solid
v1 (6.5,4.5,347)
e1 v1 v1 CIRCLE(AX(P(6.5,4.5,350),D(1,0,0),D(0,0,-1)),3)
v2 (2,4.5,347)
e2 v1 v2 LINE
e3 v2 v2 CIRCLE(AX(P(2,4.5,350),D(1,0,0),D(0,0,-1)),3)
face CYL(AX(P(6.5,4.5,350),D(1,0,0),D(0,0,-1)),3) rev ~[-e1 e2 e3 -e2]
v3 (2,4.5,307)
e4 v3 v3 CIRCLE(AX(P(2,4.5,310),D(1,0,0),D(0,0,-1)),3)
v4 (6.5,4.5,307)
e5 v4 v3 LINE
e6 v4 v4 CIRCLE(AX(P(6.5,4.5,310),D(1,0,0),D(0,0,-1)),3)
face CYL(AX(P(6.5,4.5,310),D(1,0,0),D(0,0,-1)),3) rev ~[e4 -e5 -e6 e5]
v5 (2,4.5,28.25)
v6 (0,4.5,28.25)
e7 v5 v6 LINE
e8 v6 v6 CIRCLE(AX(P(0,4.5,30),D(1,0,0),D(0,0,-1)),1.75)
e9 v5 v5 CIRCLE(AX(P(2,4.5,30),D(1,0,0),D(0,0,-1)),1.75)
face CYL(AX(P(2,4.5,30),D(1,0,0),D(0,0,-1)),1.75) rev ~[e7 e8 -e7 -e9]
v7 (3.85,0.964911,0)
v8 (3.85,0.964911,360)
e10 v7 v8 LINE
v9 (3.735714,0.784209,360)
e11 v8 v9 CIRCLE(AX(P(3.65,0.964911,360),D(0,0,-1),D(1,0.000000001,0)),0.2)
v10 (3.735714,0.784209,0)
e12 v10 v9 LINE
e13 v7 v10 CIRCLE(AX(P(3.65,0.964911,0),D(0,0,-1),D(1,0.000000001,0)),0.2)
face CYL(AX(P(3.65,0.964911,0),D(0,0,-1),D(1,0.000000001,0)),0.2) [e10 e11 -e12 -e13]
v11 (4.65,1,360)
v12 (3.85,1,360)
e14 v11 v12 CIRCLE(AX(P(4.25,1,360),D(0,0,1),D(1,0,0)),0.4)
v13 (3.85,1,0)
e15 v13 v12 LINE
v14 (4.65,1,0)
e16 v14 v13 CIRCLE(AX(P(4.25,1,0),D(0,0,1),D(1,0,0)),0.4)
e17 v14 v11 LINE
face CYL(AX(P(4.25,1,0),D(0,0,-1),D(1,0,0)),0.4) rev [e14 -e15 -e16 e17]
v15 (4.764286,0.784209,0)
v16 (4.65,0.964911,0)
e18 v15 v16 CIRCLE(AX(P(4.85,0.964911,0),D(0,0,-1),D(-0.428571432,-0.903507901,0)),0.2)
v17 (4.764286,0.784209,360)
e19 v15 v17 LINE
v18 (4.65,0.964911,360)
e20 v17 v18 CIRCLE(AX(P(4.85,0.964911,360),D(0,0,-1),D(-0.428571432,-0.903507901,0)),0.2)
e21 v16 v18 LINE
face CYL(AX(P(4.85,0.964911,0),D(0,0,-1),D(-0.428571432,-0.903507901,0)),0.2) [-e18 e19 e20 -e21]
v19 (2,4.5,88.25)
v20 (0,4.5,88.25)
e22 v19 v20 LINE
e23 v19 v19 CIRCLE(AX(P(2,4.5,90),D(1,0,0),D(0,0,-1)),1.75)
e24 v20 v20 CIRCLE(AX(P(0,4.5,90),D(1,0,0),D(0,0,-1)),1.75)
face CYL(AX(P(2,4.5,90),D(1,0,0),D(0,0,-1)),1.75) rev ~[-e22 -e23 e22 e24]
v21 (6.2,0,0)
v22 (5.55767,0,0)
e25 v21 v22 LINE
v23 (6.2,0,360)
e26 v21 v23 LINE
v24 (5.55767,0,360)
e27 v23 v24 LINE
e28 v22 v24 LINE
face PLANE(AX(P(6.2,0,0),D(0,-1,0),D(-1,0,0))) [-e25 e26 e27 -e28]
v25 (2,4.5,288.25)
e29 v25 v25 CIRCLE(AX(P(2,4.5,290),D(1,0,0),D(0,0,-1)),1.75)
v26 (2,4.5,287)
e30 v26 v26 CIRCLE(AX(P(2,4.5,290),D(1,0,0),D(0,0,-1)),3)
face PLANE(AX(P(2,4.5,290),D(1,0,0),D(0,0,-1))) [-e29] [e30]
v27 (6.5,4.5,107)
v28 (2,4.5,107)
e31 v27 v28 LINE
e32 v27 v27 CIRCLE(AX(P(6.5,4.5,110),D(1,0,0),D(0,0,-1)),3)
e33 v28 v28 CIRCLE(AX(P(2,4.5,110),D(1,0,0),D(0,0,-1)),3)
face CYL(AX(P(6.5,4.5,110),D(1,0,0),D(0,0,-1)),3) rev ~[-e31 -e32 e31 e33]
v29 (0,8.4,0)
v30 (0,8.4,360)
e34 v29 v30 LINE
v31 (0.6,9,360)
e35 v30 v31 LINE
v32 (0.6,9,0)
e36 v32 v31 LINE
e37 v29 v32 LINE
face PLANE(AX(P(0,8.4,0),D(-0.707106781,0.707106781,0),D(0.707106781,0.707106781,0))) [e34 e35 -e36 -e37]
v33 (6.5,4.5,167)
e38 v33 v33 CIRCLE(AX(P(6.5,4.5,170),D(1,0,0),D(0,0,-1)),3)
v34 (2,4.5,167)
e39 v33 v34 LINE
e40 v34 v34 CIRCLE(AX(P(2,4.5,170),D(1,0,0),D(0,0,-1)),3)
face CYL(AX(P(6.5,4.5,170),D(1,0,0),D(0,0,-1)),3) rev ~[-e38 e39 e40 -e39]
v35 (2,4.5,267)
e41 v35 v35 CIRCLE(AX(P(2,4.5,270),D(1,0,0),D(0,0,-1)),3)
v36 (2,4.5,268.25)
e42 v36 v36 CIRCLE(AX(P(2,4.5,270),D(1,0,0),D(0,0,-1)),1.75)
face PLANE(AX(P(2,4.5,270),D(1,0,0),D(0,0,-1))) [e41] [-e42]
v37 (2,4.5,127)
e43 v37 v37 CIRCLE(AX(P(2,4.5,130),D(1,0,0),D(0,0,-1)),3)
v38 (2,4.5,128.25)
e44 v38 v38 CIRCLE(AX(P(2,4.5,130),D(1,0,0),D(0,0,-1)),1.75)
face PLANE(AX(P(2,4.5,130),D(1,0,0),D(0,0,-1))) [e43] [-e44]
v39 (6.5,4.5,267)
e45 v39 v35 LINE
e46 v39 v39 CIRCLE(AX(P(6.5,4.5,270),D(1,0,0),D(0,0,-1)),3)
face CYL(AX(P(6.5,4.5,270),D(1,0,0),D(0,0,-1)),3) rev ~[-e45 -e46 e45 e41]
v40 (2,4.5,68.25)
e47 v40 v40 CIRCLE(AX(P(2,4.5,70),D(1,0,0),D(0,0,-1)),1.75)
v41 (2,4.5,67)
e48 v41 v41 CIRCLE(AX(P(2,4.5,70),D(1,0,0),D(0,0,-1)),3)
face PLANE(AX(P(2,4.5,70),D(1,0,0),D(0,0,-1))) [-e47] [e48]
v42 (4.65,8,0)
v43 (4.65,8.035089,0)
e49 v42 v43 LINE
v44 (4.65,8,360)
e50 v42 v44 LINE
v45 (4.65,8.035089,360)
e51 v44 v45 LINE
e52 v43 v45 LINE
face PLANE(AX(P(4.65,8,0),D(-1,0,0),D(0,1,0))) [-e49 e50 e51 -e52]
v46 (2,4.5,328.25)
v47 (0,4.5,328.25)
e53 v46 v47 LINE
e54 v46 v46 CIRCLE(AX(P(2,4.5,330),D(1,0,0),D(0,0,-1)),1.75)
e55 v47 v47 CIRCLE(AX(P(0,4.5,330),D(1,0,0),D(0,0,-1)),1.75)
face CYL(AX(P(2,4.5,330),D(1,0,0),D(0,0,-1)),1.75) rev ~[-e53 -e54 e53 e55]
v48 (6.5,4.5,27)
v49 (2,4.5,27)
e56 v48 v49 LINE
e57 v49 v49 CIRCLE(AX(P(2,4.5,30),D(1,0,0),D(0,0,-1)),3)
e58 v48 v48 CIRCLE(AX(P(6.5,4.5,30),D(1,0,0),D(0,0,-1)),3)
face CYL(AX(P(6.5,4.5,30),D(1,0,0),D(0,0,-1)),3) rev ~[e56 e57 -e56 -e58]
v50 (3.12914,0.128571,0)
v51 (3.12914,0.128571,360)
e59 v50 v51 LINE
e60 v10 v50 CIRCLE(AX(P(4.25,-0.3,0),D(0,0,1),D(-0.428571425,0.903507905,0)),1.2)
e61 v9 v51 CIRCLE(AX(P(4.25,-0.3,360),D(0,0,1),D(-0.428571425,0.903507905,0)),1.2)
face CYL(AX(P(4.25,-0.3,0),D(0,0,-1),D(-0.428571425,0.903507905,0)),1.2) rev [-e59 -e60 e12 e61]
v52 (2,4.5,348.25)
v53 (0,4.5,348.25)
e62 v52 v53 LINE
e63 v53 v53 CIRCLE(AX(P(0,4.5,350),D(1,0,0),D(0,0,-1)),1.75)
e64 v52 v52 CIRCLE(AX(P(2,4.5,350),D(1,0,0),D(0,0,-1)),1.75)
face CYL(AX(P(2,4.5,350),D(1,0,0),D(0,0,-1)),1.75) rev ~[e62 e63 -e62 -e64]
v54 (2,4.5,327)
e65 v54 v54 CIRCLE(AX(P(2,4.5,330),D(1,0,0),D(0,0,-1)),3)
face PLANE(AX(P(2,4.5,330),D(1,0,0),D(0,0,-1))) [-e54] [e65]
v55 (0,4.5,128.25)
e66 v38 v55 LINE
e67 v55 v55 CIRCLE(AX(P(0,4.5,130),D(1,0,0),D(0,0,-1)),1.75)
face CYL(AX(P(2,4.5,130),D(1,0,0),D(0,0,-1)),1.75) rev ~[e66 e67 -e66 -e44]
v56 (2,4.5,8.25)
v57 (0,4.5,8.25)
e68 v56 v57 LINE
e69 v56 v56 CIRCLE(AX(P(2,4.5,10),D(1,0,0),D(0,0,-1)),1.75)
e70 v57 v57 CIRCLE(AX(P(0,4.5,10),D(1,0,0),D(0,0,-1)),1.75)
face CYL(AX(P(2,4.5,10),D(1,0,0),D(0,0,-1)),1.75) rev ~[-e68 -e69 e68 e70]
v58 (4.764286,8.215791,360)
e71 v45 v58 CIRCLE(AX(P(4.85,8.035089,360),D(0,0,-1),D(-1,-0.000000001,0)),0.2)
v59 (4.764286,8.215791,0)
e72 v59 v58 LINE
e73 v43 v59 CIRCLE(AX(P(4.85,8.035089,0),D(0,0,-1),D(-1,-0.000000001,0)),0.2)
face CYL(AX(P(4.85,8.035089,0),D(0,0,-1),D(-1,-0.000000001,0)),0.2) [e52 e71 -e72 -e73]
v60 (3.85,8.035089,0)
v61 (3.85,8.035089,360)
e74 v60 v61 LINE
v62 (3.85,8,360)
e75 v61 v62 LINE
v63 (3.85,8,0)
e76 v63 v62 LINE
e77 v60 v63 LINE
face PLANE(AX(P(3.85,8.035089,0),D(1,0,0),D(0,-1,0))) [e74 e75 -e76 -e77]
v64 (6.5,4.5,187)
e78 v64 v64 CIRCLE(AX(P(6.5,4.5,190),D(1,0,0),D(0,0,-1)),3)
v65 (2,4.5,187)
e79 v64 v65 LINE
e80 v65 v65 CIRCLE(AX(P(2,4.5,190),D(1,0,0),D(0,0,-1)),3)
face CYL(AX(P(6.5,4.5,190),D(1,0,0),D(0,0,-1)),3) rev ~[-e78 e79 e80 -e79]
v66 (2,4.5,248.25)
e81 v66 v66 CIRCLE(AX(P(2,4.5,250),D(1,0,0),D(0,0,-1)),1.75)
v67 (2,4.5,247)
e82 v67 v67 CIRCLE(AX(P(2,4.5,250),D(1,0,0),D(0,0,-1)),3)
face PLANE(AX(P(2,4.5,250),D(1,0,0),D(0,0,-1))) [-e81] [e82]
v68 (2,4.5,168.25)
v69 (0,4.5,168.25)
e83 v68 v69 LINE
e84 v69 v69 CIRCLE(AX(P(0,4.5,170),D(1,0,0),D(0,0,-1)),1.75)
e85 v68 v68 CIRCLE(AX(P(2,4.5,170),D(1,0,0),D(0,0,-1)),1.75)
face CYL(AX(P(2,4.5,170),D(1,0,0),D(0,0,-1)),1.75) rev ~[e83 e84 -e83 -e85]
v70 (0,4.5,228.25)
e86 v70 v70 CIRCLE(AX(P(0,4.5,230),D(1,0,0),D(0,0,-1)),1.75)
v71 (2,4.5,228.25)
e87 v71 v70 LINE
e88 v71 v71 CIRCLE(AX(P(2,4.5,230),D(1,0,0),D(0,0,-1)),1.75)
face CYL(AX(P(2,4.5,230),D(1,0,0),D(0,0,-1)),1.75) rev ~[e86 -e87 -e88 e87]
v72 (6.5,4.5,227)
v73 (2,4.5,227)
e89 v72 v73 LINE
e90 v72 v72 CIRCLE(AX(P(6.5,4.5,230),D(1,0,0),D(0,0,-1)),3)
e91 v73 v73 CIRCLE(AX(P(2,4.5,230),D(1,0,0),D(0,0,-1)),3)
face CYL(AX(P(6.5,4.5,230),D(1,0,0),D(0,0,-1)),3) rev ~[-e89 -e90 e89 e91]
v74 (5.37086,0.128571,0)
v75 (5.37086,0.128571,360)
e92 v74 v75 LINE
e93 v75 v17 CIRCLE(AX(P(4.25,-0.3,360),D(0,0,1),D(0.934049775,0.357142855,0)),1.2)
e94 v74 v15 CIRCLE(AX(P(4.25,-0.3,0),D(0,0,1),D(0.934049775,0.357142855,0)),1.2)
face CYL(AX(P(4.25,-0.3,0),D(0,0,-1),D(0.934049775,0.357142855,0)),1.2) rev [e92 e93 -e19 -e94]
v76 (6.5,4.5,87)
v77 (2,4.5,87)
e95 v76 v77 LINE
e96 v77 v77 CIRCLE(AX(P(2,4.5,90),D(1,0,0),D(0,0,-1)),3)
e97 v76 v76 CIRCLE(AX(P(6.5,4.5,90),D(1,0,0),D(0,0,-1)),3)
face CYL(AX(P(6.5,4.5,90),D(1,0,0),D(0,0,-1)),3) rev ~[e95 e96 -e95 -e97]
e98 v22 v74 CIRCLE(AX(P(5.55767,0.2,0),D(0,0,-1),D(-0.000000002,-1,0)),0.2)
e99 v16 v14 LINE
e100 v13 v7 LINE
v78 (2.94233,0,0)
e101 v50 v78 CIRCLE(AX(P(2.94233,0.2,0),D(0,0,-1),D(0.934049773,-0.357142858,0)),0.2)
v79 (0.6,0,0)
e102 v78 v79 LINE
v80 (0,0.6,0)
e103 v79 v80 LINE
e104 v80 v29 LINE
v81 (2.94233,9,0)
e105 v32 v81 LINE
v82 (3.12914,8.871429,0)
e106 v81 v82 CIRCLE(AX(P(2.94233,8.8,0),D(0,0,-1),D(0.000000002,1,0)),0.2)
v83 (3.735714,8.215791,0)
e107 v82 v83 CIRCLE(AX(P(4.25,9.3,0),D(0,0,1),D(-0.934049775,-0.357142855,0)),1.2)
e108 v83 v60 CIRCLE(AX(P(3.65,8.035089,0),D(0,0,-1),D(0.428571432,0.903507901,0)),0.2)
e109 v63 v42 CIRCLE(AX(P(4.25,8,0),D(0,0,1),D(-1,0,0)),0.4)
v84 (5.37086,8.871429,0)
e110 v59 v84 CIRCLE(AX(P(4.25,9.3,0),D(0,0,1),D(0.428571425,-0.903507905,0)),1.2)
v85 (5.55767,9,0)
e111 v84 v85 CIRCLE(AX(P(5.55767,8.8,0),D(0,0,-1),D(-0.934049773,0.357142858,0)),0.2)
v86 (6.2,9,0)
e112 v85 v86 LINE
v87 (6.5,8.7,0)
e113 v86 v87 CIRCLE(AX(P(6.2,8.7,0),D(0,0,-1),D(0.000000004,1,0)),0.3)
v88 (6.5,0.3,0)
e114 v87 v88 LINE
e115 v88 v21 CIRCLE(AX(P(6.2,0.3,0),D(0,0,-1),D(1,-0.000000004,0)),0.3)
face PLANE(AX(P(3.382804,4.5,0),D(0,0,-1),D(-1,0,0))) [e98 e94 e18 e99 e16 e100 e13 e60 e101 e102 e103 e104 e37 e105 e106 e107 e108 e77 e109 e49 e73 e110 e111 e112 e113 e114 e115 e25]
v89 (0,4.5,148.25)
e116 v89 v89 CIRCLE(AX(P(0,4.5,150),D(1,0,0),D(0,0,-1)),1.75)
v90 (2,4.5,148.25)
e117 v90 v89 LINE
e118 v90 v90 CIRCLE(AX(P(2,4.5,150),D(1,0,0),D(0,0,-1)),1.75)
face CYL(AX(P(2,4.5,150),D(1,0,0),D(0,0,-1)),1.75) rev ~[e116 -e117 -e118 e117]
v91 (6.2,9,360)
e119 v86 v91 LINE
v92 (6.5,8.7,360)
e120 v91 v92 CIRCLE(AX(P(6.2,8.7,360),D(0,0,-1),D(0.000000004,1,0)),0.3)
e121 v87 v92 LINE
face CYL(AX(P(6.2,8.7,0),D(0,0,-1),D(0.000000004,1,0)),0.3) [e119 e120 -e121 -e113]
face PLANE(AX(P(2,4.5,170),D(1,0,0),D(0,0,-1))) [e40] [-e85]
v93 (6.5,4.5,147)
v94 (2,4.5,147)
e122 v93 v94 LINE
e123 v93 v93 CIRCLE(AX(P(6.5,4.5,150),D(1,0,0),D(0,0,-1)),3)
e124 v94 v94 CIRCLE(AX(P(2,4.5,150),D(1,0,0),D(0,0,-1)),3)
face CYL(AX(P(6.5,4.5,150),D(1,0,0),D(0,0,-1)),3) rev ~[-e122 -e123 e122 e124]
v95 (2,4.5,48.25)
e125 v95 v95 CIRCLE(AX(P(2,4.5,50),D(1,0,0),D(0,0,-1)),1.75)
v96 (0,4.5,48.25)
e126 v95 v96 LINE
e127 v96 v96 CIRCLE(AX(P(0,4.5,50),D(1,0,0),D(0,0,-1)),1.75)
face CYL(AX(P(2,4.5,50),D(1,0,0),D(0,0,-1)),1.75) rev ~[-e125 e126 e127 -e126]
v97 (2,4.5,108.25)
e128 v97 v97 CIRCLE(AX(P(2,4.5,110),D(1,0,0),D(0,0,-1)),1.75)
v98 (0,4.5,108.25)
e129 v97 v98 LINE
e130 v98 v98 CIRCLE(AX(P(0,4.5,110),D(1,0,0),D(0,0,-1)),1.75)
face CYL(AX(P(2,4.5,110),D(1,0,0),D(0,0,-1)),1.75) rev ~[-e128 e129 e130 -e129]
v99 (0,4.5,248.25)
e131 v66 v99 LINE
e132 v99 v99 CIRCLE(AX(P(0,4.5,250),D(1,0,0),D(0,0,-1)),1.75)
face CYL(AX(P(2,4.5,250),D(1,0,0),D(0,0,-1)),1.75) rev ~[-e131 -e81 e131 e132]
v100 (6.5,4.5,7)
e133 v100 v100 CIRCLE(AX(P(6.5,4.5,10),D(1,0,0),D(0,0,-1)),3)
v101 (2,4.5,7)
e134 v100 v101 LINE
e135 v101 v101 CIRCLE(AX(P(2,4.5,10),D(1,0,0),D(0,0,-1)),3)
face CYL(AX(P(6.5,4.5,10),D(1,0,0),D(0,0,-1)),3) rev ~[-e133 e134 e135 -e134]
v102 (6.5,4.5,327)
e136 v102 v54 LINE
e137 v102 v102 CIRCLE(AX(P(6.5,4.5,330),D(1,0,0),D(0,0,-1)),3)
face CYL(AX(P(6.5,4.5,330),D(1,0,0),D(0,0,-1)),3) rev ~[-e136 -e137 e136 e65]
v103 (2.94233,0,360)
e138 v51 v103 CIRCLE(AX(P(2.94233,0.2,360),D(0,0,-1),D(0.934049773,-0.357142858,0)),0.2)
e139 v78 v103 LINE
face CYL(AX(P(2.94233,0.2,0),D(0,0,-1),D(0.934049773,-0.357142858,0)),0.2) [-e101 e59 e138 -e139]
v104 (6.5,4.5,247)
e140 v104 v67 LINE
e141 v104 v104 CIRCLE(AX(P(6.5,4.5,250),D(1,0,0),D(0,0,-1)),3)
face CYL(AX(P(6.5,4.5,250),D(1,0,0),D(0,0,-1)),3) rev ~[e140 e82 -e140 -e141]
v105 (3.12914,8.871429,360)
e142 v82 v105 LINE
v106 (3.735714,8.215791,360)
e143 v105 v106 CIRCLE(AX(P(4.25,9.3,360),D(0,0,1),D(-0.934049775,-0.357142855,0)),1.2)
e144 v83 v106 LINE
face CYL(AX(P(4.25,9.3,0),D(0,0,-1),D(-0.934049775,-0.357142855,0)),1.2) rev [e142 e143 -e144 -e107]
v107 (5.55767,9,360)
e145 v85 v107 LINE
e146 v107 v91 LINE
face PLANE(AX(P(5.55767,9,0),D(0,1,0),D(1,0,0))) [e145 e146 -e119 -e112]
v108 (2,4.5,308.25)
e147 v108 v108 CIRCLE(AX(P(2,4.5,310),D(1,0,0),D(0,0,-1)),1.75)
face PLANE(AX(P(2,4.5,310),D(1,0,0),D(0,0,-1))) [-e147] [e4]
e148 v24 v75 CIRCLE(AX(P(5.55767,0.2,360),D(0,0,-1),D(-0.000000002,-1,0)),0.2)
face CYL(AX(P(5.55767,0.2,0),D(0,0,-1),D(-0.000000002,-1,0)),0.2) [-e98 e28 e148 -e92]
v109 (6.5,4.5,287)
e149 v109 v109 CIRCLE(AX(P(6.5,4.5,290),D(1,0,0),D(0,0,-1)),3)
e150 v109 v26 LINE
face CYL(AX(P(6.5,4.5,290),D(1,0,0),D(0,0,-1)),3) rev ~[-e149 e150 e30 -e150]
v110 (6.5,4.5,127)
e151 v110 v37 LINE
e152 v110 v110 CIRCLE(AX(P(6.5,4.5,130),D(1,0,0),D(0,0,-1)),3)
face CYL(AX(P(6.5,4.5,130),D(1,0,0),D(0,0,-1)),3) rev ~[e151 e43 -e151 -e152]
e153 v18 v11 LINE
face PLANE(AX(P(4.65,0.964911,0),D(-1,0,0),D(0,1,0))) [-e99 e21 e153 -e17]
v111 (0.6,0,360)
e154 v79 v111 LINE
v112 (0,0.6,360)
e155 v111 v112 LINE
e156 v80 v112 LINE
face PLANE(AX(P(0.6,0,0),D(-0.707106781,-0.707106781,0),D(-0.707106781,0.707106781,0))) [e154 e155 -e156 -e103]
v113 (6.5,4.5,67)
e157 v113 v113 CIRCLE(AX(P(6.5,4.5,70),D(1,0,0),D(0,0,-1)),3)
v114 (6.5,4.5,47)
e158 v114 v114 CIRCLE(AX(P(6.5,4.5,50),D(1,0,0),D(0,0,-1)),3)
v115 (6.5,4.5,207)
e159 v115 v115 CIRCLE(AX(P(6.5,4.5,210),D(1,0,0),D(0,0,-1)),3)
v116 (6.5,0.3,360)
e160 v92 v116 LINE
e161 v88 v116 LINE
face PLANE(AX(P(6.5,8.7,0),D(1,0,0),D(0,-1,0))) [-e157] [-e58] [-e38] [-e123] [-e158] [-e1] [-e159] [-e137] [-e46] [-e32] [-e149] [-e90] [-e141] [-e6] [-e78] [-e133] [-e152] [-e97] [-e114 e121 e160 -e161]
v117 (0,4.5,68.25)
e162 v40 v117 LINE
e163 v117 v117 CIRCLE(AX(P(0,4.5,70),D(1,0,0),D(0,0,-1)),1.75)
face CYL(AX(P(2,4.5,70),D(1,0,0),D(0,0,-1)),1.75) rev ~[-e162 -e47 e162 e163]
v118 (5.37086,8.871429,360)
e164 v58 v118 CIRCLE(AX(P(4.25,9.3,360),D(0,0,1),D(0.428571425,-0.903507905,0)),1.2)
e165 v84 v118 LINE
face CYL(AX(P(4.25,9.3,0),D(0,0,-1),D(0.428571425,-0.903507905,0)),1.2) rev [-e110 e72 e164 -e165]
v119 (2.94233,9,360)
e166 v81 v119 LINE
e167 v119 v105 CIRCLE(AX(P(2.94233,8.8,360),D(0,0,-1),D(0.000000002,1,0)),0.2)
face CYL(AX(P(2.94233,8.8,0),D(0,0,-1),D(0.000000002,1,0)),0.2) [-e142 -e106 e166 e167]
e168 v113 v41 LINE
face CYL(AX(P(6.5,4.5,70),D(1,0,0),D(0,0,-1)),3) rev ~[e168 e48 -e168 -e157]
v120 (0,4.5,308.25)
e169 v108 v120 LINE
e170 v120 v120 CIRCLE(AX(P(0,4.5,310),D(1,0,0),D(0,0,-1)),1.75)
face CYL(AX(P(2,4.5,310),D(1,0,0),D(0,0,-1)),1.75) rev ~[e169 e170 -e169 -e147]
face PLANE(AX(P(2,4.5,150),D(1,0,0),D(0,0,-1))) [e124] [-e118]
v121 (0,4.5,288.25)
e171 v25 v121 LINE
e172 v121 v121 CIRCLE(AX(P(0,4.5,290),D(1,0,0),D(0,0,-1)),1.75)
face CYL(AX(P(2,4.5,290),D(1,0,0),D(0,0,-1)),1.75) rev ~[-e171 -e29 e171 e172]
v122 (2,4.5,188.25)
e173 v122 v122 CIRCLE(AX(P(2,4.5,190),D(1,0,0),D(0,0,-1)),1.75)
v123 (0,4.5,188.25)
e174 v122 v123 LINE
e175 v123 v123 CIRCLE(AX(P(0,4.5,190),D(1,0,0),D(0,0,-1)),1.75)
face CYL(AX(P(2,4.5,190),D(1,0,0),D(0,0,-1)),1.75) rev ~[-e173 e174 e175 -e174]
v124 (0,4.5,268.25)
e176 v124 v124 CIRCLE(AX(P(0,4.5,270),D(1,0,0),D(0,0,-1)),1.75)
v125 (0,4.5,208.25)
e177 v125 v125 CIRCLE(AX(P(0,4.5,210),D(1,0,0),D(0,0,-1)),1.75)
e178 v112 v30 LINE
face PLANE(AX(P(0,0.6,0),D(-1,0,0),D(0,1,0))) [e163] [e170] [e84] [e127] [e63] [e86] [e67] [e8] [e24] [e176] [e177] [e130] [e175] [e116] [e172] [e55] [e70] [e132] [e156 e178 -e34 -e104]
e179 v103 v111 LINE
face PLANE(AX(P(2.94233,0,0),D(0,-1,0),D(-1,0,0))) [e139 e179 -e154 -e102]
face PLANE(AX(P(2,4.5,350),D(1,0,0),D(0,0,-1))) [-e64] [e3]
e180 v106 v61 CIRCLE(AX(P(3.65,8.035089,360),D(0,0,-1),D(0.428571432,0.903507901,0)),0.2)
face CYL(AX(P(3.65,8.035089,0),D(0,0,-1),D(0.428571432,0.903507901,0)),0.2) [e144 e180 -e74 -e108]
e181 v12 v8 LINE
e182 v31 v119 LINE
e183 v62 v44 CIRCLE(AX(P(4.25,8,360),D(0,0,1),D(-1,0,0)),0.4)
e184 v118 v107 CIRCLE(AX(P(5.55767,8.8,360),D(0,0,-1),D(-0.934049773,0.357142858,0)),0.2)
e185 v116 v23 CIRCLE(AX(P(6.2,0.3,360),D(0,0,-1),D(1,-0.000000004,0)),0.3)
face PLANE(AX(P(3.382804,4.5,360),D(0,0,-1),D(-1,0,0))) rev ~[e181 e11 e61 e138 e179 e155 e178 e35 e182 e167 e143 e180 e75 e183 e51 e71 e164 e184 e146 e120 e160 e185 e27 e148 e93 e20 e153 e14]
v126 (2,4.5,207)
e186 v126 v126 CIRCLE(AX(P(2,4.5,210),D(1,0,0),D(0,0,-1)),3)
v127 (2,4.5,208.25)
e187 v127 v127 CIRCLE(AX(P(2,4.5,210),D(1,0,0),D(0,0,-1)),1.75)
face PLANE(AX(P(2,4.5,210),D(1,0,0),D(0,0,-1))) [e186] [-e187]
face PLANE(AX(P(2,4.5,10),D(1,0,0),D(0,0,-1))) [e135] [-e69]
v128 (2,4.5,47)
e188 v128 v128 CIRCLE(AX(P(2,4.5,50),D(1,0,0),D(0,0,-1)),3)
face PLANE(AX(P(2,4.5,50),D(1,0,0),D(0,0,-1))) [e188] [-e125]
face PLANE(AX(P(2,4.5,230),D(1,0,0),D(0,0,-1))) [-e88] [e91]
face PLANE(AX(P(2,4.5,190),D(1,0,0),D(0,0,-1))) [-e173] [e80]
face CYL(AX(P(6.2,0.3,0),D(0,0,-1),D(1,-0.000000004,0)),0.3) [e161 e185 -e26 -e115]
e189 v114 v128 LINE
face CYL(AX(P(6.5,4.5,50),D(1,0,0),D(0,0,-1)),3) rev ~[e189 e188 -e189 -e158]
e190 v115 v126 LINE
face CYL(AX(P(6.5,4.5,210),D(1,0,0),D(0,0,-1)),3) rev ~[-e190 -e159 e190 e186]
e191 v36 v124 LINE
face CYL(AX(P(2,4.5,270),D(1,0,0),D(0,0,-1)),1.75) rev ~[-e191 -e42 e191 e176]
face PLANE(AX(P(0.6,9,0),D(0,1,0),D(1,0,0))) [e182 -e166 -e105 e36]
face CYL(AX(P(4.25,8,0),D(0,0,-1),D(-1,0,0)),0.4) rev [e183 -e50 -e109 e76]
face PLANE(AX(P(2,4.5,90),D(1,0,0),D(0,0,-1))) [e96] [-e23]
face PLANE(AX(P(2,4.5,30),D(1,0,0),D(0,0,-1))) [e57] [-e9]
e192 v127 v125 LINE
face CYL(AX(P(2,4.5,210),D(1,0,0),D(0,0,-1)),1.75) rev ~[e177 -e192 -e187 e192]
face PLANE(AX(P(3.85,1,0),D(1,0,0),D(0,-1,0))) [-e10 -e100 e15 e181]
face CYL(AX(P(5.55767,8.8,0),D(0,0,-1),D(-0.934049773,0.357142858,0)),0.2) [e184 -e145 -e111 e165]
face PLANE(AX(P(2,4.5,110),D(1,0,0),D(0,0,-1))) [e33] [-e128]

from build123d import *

# Parameters (mm, degrees)
EXTRUDE_1_DEPTH     = 360
SKETCH_2_R          = 3
CUT_EXTRUDE_1_DEPTH = 4.5
SKETCH_3_R          = 1.75
CUT_EXTRUDE_2_DEPTH = 361.140597545


with BuildPart() as part:
    # 草图1 → 凸台-拉伸1 (new body)
    with BuildSketch(Plane.XY):
        with BuildLine():
            ThreePointArc((6.2, 9), (6.412132034, 8.912132034), (6.5, 8.7))
            Line((6.5, 8.7), (6.5, 0.3))
            ThreePointArc((6.5, 0.3), (6.412132034, 0.087867966), (6.2, 0))
            Line((6.2, 0), (5.557669683, 0))
            ThreePointArc((5.557669683, 0), (5.444280341, 0.035249106), (5.370859728, 0.128571429))
            ThreePointArc((5.370859728, 0.128571429), (5.130846451, 0.514929157), (4.764285714, 0.784209483))
            ThreePointArc((4.764285714, 0.784209483), (4.680969149, 0.858006567), (4.65, 0.964911064))
            Line((4.65, 0.964911064), (4.65, 1))
            ThreePointArc((4.65, 1), (4.25, 1.4), (3.85, 1))
            Line((3.85, 1), (3.85, 0.964911064))
            ThreePointArc((3.85, 0.964911064), (3.819030851, 0.858006567), (3.735714286, 0.784209483))
            ThreePointArc((3.735714286, 0.784209483), (3.369153549, 0.514929157), (3.129140272, 0.128571429))
            ThreePointArc((3.129140272, 0.128571429), (3.055719659, 0.035249106), (2.942330317, 0))
            Line((2.942330317, 0), (0.6, 0))
            Line((0.6, 0), (0, 0.6))
            Line((0, 0.6), (0, 8.4))
            Line((0, 8.4), (0.6, 9))
            Line((0.6, 9), (2.942330317, 9))
            ThreePointArc((2.942330317, 9), (3.055719659, 8.964750894), (3.129140272, 8.871428571))
            ThreePointArc((3.129140272, 8.871428571), (3.369153549, 8.485070843), (3.735714286, 8.215790517))
            ThreePointArc((3.735714286, 8.215790517), (3.819030851, 8.141993433), (3.85, 8.035088936))
            Line((3.85, 8.035088936), (3.85, 8))
            ThreePointArc((3.85, 8), (4.25, 7.6), (4.65, 8))
            Line((4.65, 8), (4.65, 8.035088936))
            ThreePointArc((4.65, 8.035088936), (4.680969149, 8.141993433), (4.764285714, 8.215790517))
            ThreePointArc((4.764285714, 8.215790517), (5.130846451, 8.485070843), (5.370859728, 8.871428571))
            ThreePointArc((5.370859728, 8.871428571), (5.444280341, 8.964750894), (5.557669683, 9))
            Line((5.557669683, 9), (6.2, 9))
        make_face()
    extrude(amount=EXTRUDE_1_DEPTH)

    # 草图2 → 切除-拉伸1 (cut)
    with BuildSketch(Plane(origin=(6.5, 0, 0), x_dir=(0, 0, -1), z_dir=(1, 0, 0))):
        with Locations((-10, 4.5)):
            Circle(SKETCH_2_R)
        with Locations((-30, 4.5)):
            Circle(SKETCH_2_R)
        with Locations((-50, 4.5)):
            Circle(SKETCH_2_R)
        with Locations((-70, 4.5)):
            Circle(SKETCH_2_R)
        with Locations((-90, 4.5)):
            Circle(SKETCH_2_R)
        with Locations((-110, 4.5)):
            Circle(SKETCH_2_R)
        with Locations((-130, 4.5)):
            Circle(SKETCH_2_R)
        with Locations((-150, 4.5)):
            Circle(SKETCH_2_R)
        with Locations((-170, 4.5)):
            Circle(SKETCH_2_R)
        with Locations((-190, 4.5)):
            Circle(SKETCH_2_R)
        with Locations((-210, 4.5)):
            Circle(SKETCH_2_R)
        with Locations((-230, 4.5)):
            Circle(SKETCH_2_R)
        with Locations((-250, 4.5)):
            Circle(SKETCH_2_R)
        with Locations((-270, 4.5)):
            Circle(SKETCH_2_R)
        with Locations((-290, 4.5)):
            Circle(SKETCH_2_R)
        with Locations((-310, 4.5)):
            Circle(SKETCH_2_R)
        with Locations((-330, 4.5)):
            Circle(SKETCH_2_R)
        with Locations((-350, 4.5)):
            Circle(SKETCH_2_R)
        with Locations((-370, 4.5)):
            Circle(SKETCH_2_R)
        with Locations((-390, 4.5)):
            Circle(SKETCH_2_R)
        with Locations((-410, 4.5)):
            Circle(SKETCH_2_R)
        with Locations((-430, 4.5)):
            Circle(SKETCH_2_R)
        with Locations((-450, 4.5)):
            Circle(SKETCH_2_R)
        with Locations((-470, 4.5)):
            Circle(SKETCH_2_R)
        with Locations((-490, 4.5)):
            Circle(SKETCH_2_R)
        with Locations((-510, 4.5)):
            Circle(SKETCH_2_R)
        with Locations((-530, 4.5)):
            Circle(SKETCH_2_R)
        with Locations((-550, 4.5)):
            Circle(SKETCH_2_R)
        with Locations((-570, 4.5)):
            Circle(SKETCH_2_R)
        with Locations((-590, 4.5)):
            Circle(SKETCH_2_R)
        with Locations((-610, 4.5)):
            Circle(SKETCH_2_R)
        with Locations((-630, 4.5)):
            Circle(SKETCH_2_R)
        with Locations((-650, 4.5)):
            Circle(SKETCH_2_R)
        with Locations((-670, 4.5)):
            Circle(SKETCH_2_R)
        with Locations((-690, 4.5)):
            Circle(SKETCH_2_R)
        with Locations((-710, 4.5)):
            Circle(SKETCH_2_R)
        with Locations((-730, 4.5)):
            Circle(SKETCH_2_R)
        with Locations((-750, 4.5)):
            Circle(SKETCH_2_R)
        with Locations((-770, 4.5)):
            Circle(SKETCH_2_R)
        with Locations((-790, 4.5)):
            Circle(SKETCH_2_R)
        with Locations((-810, 4.5)):
            Circle(SKETCH_2_R)
        with Locations((-830, 4.5)):
            Circle(SKETCH_2_R)
        with Locations((-850, 4.5)):
            Circle(SKETCH_2_R)
        with Locations((-870, 4.5)):
            Circle(SKETCH_2_R)
        with Locations((-890, 4.5)):
            Circle(SKETCH_2_R)
        with Locations((-910, 4.5)):
            Circle(SKETCH_2_R)
        with Locations((-930, 4.5)):
            Circle(SKETCH_2_R)
        with Locations((-950, 4.5)):
            Circle(SKETCH_2_R)
        with Locations((-970, 4.5)):
            Circle(SKETCH_2_R)
        with Locations((-990, 4.5)):
            Circle(SKETCH_2_R)
        with Locations((-1010, 4.5)):
            Circle(SKETCH_2_R)
        with Locations((-1030, 4.5)):
            Circle(SKETCH_2_R)
        with Locations((-1050, 4.5)):
            Circle(SKETCH_2_R)
        with Locations((-1070, 4.5)):
            Circle(SKETCH_2_R)
        with Locations((-1090, 4.5)):
            Circle(SKETCH_2_R)
        with Locations((-1110, 4.5)):
            Circle(SKETCH_2_R)
        with Locations((-1130, 4.5)):
            Circle(SKETCH_2_R)
        with Locations((-1150, 4.5)):
            Circle(SKETCH_2_R)
        with Locations((-1170, 4.5)):
            Circle(SKETCH_2_R)
        with Locations((-1190, 4.5)):
            Circle(SKETCH_2_R)
        with Locations((-1210, 4.5)):
            Circle(SKETCH_2_R)
        with Locations((-1230, 4.5)):
            Circle(SKETCH_2_R)
        with Locations((-1250, 4.5)):
            Circle(SKETCH_2_R)
        with Locations((-1270, 4.5)):
            Circle(SKETCH_2_R)
        with Locations((-1290, 4.5)):
            Circle(SKETCH_2_R)
        with Locations((-1310, 4.5)):
            Circle(SKETCH_2_R)
        with Locations((-1330, 4.5)):
            Circle(SKETCH_2_R)
        with Locations((-1350, 4.5)):
            Circle(SKETCH_2_R)
        with Locations((-1370, 4.5)):
            Circle(SKETCH_2_R)
        with Locations((-1390, 4.5)):
            Circle(SKETCH_2_R)
        with Locations((-1410, 4.5)):
            Circle(SKETCH_2_R)
        with Locations((-1430, 4.5)):
            Circle(SKETCH_2_R)
        with Locations((-1450, 4.5)):
            Circle(SKETCH_2_R)
        with Locations((-1470, 4.5)):
            Circle(SKETCH_2_R)
        with Locations((-1490, 4.5)):
            Circle(SKETCH_2_R)
        with Locations((-1510, 4.5)):
            Circle(SKETCH_2_R)
        with Locations((-1530, 4.5)):
            Circle(SKETCH_2_R)
        with Locations((-1550, 4.5)):
            Circle(SKETCH_2_R)
        with Locations((-1570, 4.5)):
            Circle(SKETCH_2_R)
        with Locations((-1590, 4.5)):
            Circle(SKETCH_2_R)
        with Locations((-1610, 4.5)):
            Circle(SKETCH_2_R)
        with Locations((-1630, 4.5)):
            Circle(SKETCH_2_R)
        with Locations((-1650, 4.5)):
            Circle(SKETCH_2_R)
        with Locations((-1670, 4.5)):
            Circle(SKETCH_2_R)
        with Locations((-1690, 4.5)):
            Circle(SKETCH_2_R)
        with Locations((-1710, 4.5)):
            Circle(SKETCH_2_R)
        with Locations((-1730, 4.5)):
            Circle(SKETCH_2_R)
        with Locations((-1750, 4.5)):
            Circle(SKETCH_2_R)
        with Locations((-1770, 4.5)):
            Circle(SKETCH_2_R)
        with Locations((-1790, 4.5)):
            Circle(SKETCH_2_R)
        with Locations((-1810, 4.5)):
            Circle(SKETCH_2_R)
        with Locations((-1830, 4.5)):
            Circle(SKETCH_2_R)
        with Locations((-1850, 4.5)):
            Circle(SKETCH_2_R)
        with Locations((-1870, 4.5)):
            Circle(SKETCH_2_R)
        with Locations((-1890, 4.5)):
            Circle(SKETCH_2_R)
        with Locations((-1910, 4.5)):
            Circle(SKETCH_2_R)
        with Locations((-1930, 4.5)):
            Circle(SKETCH_2_R)
        with Locations((-1950, 4.5)):
            Circle(SKETCH_2_R)
        with Locations((-1970, 4.5)):
            Circle(SKETCH_2_R)
        with Locations((-1990, 4.5)):
            Circle(SKETCH_2_R)
        with Locations((-2010, 4.5)):
            Circle(SKETCH_2_R)
        with Locations((-2030, 4.5)):
            Circle(SKETCH_2_R)
        with Locations((-2050, 4.5)):
            Circle(SKETCH_2_R)
        with Locations((-2070, 4.5)):
            Circle(SKETCH_2_R)
        with Locations((-2090, 4.5)):
            Circle(SKETCH_2_R)
        with Locations((-2110, 4.5)):
            Circle(SKETCH_2_R)
        with Locations((-2130, 4.5)):
            Circle(SKETCH_2_R)
        with Locations((-2150, 4.5)):
            Circle(SKETCH_2_R)
        with Locations((-2170, 4.5)):
            Circle(SKETCH_2_R)
        with Locations((-2190, 4.5)):
            Circle(SKETCH_2_R)
        with Locations((-2210, 4.5)):
            Circle(SKETCH_2_R)
        with Locations((-2230, 4.5)):
            Circle(SKETCH_2_R)
        with Locations((-2250, 4.5)):
            Circle(SKETCH_2_R)
        with Locations((-2270, 4.5)):
            Circle(SKETCH_2_R)
        with Locations((-2290, 4.5)):
            Circle(SKETCH_2_R)
        with Locations((-2310, 4.5)):
            Circle(SKETCH_2_R)
        with Locations((-2330, 4.5)):
            Circle(SKETCH_2_R)
        with Locations((-2350, 4.5)):
            Circle(SKETCH_2_R)
        with Locations((-2370, 4.5)):
            Circle(SKETCH_2_R)
        with Locations((-2390, 4.5)):
            Circle(SKETCH_2_R)
        with Locations((-2410, 4.5)):
            Circle(SKETCH_2_R)
        with Locations((-2430, 4.5)):
            Circle(SKETCH_2_R)
        with Locations((-2450, 4.5)):
            Circle(SKETCH_2_R)
        with Locations((-2470, 4.5)):
            Circle(SKETCH_2_R)
    extrude(amount=-CUT_EXTRUDE_1_DEPTH, mode=Mode.SUBTRACT)

    # 草图3 → 切除-拉伸2 (cut, through all)
    with BuildSketch(Plane(origin=(2, 0, 0), x_dir=(0, 0, -1), z_dir=(1, 0, 0))):
        with Locations((-10, 4.5)):
            Circle(SKETCH_3_R)
        with Locations((-30, 4.5)):
            Circle(SKETCH_3_R)
        with Locations((-50, 4.5)):
            Circle(SKETCH_3_R)
        with Locations((-70, 4.5)):
            Circle(SKETCH_3_R)
        with Locations((-90, 4.5)):
            Circle(SKETCH_3_R)
        with Locations((-110, 4.5)):
            Circle(SKETCH_3_R)
        with Locations((-130, 4.5)):
            Circle(SKETCH_3_R)
        with Locations((-150, 4.5)):
            Circle(SKETCH_3_R)
        with Locations((-170, 4.5)):
            Circle(SKETCH_3_R)
        with Locations((-190, 4.5)):
            Circle(SKETCH_3_R)
        with Locations((-210, 4.5)):
            Circle(SKETCH_3_R)
        with Locations((-230, 4.5)):
            Circle(SKETCH_3_R)
        with Locations((-250, 4.5)):
            Circle(SKETCH_3_R)
        with Locations((-270, 4.5)):
            Circle(SKETCH_3_R)
        with Locations((-290, 4.5)):
            Circle(SKETCH_3_R)
        with Locations((-310, 4.5)):
            Circle(SKETCH_3_R)
        with Locations((-330, 4.5)):
            Circle(SKETCH_3_R)
        with Locations((-350, 4.5)):
            Circle(SKETCH_3_R)
        with Locations((-370, 4.5)):
            Circle(SKETCH_3_R)
        with Locations((-390, 4.5)):
            Circle(SKETCH_3_R)
        with Locations((-410, 4.5)):
            Circle(SKETCH_3_R)
        with Locations((-430, 4.5)):
            Circle(SKETCH_3_R)
        with Locations((-450, 4.5)):
            Circle(SKETCH_3_R)
        with Locations((-470, 4.5)):
            Circle(SKETCH_3_R)
        with Locations((-490, 4.5)):
            Circle(SKETCH_3_R)
        with Locations((-510, 4.5)):
            Circle(SKETCH_3_R)
        with Locations((-530, 4.5)):
            Circle(SKETCH_3_R)
        with Locations((-550, 4.5)):
            Circle(SKETCH_3_R)
        with Locations((-570, 4.5)):
            Circle(SKETCH_3_R)
        with Locations((-590, 4.5)):
            Circle(SKETCH_3_R)
        with Locations((-610, 4.5)):
            Circle(SKETCH_3_R)
        with Locations((-630, 4.5)):
            Circle(SKETCH_3_R)
        with Locations((-650, 4.5)):
            Circle(SKETCH_3_R)
        with Locations((-670, 4.5)):
            Circle(SKETCH_3_R)
        with Locations((-690, 4.5)):
            Circle(SKETCH_3_R)
        with Locations((-710, 4.5)):
            Circle(SKETCH_3_R)
        with Locations((-730, 4.5)):
            Circle(SKETCH_3_R)
        with Locations((-750, 4.5)):
            Circle(SKETCH_3_R)
        with Locations((-770, 4.5)):
            Circle(SKETCH_3_R)
        with Locations((-790, 4.5)):
            Circle(SKETCH_3_R)
        with Locations((-810, 4.5)):
            Circle(SKETCH_3_R)
        with Locations((-830, 4.5)):
            Circle(SKETCH_3_R)
        with Locations((-850, 4.5)):
            Circle(SKETCH_3_R)
        with Locations((-870, 4.5)):
            Circle(SKETCH_3_R)
        with Locations((-890, 4.5)):
            Circle(SKETCH_3_R)
        with Locations((-910, 4.5)):
            Circle(SKETCH_3_R)
        with Locations((-930, 4.5)):
            Circle(SKETCH_3_R)
        with Locations((-950, 4.5)):
            Circle(SKETCH_3_R)
        with Locations((-970, 4.5)):
            Circle(SKETCH_3_R)
        with Locations((-990, 4.5)):
            Circle(SKETCH_3_R)
        with Locations((-1010, 4.5)):
            Circle(SKETCH_3_R)
        with Locations((-1030, 4.5)):
            Circle(SKETCH_3_R)
        with Locations((-1050, 4.5)):
            Circle(SKETCH_3_R)
        with Locations((-1070, 4.5)):
            Circle(SKETCH_3_R)
    extrude(amount=-CUT_EXTRUDE_2_DEPTH, mode=Mode.SUBTRACT)


solid = part.part
